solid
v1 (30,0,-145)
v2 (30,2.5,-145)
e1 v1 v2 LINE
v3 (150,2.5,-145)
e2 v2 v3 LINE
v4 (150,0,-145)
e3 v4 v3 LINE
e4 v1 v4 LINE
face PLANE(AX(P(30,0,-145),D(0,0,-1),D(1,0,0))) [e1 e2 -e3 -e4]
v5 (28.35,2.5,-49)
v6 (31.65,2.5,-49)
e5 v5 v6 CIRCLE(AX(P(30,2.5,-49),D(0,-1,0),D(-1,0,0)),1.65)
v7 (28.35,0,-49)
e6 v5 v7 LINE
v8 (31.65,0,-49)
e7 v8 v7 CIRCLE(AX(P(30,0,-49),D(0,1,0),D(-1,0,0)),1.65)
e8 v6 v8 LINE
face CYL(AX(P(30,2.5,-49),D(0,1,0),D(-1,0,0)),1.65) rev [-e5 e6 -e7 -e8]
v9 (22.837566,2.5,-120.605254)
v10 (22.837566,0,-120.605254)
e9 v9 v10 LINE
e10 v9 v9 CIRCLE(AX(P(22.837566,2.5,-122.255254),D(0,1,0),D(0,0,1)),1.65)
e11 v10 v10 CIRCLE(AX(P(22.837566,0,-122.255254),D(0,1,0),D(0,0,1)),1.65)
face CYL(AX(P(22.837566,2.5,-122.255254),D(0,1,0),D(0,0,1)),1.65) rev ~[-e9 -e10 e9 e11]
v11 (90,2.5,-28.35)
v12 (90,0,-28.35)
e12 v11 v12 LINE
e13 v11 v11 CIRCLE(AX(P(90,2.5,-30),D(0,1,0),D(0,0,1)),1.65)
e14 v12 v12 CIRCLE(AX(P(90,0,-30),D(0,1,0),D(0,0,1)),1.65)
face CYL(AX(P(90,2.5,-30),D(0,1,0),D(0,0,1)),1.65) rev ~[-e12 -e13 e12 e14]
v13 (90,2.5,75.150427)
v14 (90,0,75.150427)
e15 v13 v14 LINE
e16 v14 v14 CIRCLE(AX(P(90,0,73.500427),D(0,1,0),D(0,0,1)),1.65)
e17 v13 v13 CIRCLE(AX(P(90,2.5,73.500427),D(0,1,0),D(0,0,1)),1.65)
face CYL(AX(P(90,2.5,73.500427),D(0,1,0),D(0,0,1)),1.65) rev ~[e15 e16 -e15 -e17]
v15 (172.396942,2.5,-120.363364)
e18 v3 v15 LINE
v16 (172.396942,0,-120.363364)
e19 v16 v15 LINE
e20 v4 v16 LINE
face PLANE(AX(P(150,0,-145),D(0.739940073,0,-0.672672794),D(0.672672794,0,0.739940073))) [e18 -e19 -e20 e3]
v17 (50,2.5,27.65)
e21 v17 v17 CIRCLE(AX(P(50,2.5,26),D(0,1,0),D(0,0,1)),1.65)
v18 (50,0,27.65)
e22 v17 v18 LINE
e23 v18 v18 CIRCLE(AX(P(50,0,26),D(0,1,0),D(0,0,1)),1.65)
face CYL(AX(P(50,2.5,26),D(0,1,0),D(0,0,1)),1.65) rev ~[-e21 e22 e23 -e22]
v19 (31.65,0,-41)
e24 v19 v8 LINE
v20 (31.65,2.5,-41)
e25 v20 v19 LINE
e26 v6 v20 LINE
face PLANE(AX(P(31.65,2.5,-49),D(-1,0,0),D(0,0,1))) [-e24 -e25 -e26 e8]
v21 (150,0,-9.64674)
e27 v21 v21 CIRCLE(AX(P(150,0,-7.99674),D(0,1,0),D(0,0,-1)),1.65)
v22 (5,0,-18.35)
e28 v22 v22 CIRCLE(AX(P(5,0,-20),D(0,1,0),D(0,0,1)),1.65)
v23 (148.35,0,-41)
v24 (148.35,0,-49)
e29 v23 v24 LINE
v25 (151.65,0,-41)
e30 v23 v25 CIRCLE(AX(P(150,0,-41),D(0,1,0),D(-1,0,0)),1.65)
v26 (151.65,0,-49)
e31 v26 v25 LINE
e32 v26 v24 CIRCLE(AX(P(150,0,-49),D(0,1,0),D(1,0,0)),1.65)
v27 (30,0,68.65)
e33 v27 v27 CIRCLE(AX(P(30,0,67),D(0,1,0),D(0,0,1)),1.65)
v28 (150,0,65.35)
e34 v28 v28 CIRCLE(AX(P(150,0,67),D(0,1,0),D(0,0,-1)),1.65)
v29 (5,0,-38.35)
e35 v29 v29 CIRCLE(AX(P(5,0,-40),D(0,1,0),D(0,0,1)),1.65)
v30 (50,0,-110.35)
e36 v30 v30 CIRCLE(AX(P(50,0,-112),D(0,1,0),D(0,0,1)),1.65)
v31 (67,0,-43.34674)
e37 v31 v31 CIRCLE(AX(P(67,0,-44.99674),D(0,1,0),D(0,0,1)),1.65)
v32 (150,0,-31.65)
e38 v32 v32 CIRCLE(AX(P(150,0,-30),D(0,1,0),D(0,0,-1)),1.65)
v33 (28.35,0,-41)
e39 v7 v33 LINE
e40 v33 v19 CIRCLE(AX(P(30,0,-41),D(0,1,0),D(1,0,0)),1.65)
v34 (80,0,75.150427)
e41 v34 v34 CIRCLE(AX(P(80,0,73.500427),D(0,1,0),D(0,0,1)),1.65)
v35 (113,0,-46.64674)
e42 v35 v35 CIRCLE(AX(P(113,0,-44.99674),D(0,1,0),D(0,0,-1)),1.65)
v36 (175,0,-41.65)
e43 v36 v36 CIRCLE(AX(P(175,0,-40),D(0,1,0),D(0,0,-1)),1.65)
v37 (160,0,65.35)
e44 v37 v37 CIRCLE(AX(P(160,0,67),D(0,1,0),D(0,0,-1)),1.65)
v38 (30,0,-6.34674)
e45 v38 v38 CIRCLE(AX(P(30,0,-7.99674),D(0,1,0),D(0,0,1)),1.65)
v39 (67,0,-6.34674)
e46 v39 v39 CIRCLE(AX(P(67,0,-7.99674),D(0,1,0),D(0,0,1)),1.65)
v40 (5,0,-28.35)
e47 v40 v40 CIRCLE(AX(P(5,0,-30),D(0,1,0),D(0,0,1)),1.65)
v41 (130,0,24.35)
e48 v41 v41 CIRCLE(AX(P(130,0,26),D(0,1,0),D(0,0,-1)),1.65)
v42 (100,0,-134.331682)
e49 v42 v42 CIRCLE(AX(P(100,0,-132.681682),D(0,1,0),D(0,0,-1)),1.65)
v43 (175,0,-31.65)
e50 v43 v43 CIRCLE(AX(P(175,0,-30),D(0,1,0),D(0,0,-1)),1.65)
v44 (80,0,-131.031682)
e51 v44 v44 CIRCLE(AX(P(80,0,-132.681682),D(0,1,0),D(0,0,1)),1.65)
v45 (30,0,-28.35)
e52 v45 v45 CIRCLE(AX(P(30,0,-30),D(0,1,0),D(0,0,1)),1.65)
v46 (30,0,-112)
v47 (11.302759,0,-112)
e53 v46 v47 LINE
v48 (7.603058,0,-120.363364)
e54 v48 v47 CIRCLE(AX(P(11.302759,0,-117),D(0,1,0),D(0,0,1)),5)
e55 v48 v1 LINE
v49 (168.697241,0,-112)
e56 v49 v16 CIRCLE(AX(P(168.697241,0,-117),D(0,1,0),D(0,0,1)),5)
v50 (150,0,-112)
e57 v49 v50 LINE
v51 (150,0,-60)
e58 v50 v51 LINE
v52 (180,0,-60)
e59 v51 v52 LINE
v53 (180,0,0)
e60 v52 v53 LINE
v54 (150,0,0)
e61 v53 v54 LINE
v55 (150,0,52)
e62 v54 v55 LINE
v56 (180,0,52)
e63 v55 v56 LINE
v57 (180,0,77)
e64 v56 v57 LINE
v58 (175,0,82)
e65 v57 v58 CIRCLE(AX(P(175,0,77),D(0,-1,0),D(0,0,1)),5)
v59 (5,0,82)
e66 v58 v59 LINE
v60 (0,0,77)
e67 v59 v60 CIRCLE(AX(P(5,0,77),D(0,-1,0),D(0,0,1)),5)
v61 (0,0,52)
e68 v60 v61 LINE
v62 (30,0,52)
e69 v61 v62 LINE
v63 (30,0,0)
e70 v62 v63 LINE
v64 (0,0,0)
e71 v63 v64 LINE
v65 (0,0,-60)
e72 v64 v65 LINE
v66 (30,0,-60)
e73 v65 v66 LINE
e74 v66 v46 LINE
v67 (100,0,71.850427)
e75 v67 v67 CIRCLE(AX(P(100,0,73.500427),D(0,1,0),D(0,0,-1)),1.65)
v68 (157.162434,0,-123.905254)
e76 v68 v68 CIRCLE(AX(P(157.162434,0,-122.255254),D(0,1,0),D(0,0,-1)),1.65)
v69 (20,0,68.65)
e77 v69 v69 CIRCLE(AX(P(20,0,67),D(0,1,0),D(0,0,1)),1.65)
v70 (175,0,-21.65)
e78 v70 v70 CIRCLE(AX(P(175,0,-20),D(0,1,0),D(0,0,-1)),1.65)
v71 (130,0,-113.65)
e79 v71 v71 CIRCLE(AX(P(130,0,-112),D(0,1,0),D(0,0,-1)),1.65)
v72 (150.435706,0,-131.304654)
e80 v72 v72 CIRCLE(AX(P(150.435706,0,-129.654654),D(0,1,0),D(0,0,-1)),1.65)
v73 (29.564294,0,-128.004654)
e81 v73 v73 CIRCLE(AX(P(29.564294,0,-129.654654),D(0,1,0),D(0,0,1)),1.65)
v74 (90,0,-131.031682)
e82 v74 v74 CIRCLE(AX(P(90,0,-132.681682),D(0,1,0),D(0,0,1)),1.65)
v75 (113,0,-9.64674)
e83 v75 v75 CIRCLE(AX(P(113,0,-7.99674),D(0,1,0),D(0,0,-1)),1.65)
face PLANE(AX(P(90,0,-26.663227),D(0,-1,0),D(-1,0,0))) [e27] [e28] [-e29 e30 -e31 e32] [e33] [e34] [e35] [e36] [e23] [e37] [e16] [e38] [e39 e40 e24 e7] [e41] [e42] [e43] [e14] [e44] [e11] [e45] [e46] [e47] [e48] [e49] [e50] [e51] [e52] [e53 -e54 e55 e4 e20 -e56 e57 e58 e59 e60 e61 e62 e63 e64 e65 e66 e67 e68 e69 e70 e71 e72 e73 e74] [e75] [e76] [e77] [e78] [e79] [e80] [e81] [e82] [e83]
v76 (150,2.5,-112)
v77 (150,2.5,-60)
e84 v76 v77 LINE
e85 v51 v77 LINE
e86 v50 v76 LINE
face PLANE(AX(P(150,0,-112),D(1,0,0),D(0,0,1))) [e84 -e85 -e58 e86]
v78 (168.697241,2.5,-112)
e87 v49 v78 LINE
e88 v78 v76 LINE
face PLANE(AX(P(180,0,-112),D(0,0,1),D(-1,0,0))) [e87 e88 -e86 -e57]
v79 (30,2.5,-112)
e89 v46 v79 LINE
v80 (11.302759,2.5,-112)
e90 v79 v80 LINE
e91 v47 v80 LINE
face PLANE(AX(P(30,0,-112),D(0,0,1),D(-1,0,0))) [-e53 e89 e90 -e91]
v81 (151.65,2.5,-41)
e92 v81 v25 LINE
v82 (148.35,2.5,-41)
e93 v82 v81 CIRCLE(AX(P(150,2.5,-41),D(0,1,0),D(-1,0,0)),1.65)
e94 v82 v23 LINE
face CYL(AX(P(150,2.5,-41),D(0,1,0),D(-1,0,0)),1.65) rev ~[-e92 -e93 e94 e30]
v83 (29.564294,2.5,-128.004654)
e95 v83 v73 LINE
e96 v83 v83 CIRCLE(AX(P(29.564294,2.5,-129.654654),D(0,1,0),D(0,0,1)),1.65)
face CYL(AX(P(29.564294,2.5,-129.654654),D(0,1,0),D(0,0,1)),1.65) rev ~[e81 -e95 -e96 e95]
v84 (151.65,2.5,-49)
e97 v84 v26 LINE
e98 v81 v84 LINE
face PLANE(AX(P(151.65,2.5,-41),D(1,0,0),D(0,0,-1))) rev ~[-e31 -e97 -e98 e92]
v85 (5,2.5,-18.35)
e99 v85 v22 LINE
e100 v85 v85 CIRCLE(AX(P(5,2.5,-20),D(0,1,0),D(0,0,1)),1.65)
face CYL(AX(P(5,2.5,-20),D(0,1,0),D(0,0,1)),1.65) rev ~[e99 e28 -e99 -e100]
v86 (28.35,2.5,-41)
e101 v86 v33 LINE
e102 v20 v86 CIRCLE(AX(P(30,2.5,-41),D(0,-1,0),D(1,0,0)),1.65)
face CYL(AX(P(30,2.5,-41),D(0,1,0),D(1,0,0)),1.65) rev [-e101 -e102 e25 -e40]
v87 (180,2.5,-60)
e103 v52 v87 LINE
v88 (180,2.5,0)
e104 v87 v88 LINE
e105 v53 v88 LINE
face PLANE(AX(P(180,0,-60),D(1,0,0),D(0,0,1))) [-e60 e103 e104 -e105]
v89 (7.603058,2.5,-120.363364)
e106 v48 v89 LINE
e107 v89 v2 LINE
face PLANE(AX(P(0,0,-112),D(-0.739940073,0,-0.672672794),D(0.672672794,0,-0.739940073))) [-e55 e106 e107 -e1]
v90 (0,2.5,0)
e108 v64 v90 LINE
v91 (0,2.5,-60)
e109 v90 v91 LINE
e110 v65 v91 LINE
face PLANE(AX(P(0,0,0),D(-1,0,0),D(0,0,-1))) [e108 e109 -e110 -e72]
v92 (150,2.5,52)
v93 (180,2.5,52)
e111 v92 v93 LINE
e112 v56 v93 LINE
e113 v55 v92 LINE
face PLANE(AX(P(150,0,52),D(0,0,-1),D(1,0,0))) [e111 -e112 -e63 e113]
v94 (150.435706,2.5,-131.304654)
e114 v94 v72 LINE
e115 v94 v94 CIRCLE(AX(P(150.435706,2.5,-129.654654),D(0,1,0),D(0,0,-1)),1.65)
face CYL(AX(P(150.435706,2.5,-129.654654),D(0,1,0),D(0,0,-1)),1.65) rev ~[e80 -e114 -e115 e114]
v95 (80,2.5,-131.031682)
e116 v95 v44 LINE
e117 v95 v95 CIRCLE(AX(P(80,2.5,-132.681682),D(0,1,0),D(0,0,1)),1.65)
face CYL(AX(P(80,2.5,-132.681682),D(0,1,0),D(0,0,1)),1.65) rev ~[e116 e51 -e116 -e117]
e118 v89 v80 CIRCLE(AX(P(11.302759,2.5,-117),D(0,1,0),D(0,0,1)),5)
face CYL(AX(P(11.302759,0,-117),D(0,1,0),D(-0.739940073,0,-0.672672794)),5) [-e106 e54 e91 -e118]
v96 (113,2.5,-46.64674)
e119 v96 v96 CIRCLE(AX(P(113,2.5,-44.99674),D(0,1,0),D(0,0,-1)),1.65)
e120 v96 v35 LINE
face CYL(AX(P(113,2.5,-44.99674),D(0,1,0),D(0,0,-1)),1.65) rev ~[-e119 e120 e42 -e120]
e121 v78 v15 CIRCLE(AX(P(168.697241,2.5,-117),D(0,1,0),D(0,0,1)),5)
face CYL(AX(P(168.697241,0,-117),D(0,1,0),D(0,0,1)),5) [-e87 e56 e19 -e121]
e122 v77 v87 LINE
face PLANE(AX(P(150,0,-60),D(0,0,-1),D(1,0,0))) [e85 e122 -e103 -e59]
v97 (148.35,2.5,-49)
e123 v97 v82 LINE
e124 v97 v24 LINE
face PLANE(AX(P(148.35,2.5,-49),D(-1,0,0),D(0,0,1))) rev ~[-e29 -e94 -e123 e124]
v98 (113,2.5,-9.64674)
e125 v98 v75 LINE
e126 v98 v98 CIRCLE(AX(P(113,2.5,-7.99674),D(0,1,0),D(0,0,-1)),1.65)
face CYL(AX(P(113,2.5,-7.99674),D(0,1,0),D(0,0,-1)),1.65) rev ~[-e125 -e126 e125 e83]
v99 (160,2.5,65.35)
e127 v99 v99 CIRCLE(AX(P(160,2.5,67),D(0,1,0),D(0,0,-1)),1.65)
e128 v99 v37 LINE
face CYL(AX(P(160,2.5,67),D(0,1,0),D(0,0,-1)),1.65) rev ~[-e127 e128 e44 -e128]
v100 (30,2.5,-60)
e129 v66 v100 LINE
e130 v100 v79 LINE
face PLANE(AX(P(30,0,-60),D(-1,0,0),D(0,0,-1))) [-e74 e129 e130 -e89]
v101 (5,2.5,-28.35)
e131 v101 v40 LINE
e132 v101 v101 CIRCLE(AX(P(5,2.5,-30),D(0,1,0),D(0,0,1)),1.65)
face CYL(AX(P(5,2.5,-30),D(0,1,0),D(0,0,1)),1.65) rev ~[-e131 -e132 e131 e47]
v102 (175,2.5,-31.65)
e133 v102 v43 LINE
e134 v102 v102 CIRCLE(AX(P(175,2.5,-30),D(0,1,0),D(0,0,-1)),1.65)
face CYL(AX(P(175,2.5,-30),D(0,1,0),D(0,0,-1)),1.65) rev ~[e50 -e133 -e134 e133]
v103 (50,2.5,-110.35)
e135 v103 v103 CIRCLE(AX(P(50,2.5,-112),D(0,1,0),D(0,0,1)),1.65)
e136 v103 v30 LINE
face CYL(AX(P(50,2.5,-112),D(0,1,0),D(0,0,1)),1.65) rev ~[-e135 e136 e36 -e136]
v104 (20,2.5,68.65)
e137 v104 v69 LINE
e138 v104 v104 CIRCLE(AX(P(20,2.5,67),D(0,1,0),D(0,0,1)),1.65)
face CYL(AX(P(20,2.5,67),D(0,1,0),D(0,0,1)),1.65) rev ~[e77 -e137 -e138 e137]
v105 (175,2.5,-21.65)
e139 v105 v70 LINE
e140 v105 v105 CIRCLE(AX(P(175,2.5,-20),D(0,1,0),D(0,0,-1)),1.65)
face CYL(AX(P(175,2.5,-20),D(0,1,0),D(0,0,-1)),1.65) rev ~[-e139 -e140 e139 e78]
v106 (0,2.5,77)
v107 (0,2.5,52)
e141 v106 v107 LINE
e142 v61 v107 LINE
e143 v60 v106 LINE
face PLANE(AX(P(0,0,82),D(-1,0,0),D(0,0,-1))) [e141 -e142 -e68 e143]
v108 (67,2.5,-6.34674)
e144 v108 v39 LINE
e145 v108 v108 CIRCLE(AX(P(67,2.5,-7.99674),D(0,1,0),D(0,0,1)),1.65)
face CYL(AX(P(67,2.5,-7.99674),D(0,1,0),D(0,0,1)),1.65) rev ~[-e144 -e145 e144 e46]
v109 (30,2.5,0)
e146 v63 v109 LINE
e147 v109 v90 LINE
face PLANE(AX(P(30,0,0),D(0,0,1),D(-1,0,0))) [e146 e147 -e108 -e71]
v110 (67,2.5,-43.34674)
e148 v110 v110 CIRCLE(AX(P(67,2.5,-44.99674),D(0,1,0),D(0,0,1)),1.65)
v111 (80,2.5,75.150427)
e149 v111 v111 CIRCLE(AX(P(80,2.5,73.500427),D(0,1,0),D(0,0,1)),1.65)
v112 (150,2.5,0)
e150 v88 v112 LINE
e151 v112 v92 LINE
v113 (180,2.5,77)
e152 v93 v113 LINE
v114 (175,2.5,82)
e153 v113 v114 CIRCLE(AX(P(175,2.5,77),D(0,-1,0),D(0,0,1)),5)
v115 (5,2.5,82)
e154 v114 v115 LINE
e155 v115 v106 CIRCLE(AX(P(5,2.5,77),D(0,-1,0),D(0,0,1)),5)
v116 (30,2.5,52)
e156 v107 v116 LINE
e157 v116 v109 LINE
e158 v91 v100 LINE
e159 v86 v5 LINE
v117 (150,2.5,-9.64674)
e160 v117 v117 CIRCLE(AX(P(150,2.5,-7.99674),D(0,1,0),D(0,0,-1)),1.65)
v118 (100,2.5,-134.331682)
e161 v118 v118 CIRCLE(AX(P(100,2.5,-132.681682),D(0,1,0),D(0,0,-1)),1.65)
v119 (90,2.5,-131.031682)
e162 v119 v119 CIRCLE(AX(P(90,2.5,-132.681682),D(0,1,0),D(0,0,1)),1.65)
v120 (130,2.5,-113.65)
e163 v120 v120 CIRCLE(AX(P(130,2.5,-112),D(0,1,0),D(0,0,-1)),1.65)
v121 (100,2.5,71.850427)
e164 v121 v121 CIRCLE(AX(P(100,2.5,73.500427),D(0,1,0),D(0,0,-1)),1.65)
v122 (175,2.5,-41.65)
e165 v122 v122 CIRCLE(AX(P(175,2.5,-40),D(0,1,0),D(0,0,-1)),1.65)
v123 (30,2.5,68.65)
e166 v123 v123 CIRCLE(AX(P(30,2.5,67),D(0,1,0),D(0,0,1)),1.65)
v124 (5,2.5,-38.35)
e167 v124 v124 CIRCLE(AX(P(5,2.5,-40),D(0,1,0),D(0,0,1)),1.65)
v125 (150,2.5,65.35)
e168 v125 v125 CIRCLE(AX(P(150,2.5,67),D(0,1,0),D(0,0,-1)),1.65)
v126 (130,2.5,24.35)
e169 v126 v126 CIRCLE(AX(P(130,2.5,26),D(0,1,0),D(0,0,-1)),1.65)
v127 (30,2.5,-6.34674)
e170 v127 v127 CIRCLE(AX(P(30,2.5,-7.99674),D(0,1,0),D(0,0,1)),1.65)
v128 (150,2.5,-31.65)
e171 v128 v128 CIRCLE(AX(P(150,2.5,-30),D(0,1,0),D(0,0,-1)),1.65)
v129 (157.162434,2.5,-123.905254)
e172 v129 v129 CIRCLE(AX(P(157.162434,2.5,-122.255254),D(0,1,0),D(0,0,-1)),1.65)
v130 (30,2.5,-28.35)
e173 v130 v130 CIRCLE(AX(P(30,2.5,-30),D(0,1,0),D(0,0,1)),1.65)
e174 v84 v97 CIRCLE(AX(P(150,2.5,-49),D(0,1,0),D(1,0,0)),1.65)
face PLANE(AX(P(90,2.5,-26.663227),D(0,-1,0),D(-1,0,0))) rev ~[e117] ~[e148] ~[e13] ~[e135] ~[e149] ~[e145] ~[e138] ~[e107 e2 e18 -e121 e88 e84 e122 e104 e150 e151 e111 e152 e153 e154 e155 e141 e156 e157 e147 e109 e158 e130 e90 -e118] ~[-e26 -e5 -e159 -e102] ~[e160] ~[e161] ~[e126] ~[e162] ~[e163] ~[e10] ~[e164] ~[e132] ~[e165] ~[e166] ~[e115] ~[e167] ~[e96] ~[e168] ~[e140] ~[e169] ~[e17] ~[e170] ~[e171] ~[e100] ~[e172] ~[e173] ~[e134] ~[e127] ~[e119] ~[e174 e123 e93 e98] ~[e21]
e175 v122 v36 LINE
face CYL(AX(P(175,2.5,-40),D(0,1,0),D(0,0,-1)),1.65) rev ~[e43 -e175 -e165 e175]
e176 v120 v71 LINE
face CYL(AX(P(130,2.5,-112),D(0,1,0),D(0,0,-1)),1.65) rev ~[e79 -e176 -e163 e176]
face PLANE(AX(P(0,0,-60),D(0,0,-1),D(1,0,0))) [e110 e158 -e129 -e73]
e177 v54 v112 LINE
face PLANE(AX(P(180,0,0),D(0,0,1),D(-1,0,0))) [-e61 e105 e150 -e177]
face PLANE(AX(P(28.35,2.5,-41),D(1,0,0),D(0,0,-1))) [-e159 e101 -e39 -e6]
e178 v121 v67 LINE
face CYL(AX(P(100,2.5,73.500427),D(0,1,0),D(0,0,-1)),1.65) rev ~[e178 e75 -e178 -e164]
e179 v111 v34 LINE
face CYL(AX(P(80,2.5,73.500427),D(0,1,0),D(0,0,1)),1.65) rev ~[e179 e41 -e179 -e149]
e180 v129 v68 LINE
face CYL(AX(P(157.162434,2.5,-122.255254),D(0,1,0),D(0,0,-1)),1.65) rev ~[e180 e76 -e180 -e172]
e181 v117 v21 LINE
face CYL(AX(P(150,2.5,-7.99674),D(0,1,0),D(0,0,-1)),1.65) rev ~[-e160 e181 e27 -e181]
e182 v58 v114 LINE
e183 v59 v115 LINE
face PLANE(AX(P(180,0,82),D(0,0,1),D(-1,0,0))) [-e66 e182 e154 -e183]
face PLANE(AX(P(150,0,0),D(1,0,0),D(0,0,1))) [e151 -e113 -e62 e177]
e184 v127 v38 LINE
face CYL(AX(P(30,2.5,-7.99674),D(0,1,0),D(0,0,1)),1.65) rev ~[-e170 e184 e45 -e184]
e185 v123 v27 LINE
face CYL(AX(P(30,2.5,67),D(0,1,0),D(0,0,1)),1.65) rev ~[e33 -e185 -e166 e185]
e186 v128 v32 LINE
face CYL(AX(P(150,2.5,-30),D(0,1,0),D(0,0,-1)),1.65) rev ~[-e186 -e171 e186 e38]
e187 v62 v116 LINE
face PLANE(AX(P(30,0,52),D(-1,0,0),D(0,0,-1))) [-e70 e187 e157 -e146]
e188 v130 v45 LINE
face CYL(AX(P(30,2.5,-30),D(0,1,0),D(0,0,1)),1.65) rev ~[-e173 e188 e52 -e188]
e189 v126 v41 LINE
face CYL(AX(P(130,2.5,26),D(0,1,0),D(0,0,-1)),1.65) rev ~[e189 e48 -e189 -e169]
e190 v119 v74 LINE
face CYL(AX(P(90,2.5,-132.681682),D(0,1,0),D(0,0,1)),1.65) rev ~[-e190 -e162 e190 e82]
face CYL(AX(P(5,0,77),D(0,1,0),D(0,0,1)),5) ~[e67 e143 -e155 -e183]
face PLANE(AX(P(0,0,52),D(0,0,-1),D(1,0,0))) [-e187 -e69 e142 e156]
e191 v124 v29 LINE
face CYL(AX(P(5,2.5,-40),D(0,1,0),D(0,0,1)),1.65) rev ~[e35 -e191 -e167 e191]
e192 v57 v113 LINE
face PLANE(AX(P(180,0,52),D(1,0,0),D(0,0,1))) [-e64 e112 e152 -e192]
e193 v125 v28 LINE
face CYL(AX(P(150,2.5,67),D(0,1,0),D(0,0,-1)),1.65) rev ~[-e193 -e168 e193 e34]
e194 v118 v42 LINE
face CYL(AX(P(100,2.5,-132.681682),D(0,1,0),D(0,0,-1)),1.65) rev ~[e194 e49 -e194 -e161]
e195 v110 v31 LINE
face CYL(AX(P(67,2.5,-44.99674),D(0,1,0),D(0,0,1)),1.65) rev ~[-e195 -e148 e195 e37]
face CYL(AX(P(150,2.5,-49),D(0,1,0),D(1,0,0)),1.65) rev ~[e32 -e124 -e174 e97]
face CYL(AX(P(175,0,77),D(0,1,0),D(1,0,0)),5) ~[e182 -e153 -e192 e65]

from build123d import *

# Parameters (mm, degrees)
BOSS_EXTRUDE1_DEPTH = 2.5
FILLET1_R           = 5
FILLET2_R           = 5
SKETCH2_R           = 1.65
CUT_EXTRUDE1_DEPTH  = 232.152006264
SKETCH3_R           = 1.65
CUT_EXTRUDE2_DEPTH  = 10
SKETCH4_R           = 1.65
CUT_EXTRUDE3_DEPTH  = 10
SKETCH5_R           = 1.65
CUT_EXTRUDE4_DEPTH  = 10
SKETCH6_R           = 1.65
CUT_EXTRUDE5_DEPTH  = 10
SKETCH8_R           = 1.65
CUT_EXTRUDE6_DEPTH  = 10
SKETCH9_R           = 1.65
CUT_EXTRUDE7_DEPTH  = 10


with BuildPart() as part:
    # Sketch1 → Boss-Extrude1 (new body)
    with BuildSketch(Plane(origin=(0, 0, 0), x_dir=(1, 0, 0), z_dir=(0, 1, 0))):
        Polygon((0, 0), (0, 60), (30, 60), (30, 112), (0, 112), (30, 145), (150, 145), (180, 112), (150, 112), (150, 60), (180, 60), (180, 0), (150, 0), (150, -52), (180, -52), (180, -82), (0, -82), (0, -52), (30, -52), (30, 0), align=None)
    extrude(amount=BOSS_EXTRUDE1_DEPTH)

    # Fillet1
    fillet1_edges = [part.edges().sort_by_distance(p)[0] for p in [
        (180, 1.25, 82),
        (0, 1.25, 82),
    ]]
    fillet(fillet1_edges, radius=FILLET1_R)

    # Fillet2
    fillet2_edges = [part.edges().sort_by_distance(p)[0] for p in [
        (0, 1.25, -112),
        (180, 1.25, -112),
    ]]
    fillet(fillet2_edges, radius=FILLET2_R)

    # Sketch2 → Cut-Extrude1 (cut, through all)
    with BuildSketch(Plane(origin=(0, 2.5, 0), x_dir=(1, 0, 0), z_dir=(0, 1, 0))):
        with Locations(Location((30, 30, 0), (0, 0, 270))):
            Circle(SKETCH2_R)
        with Locations(Location((30, -67, 0), (0, 0, 270))):
            Circle(SKETCH2_R)
        with Locations(Location((50, 112, 0), (0, 0, 270))):
            Circle(SKETCH2_R)
        with Locations(Location((50, -26, 0), (0, 0, 270))):
            Circle(SKETCH2_R)
        with Locations(Location((150, -67, 0), (0, 0, 90))):
            Circle(SKETCH2_R)
        with Locations(Location((130, -26, 0), (0, 0, 90))):
            Circle(SKETCH2_R)
        with Locations(Location((150, 30, 0), (0, 0, 90))):
            Circle(SKETCH2_R)
        with Locations(Location((130, 112, 0), (0, 0, 90))):
            Circle(SKETCH2_R)
        with Locations(Location((20, -67, 0), (0, 0, 270))):
            Circle(SKETCH2_R)
        with Locations(Location((160, -67, 0), (0, 0, 90))):
            Circle(SKETCH2_R)
        with BuildLine():
            Line((28.35, 41), (28.35, 49))
            ThreePointArc((28.35, 49), (30, 50.65), (31.65, 49))
            Line((31.65, 49), (31.65, 41))
            ThreePointArc((31.65, 41), (30, 39.35), (28.35, 41))
        make_face()
        with BuildLine():
            Line((151.65, 41), (151.65, 49))
            ThreePointArc((151.65, 49), (150, 50.65), (148.35, 49))
            Line((148.35, 49), (148.35, 41))
            ThreePointArc((148.35, 41), (150, 39.35), (151.65, 41))
        make_face()
    extrude(amount=-CUT_EXTRUDE1_DEPTH, mode=Mode.SUBTRACT)

    # Sketch3 → Cut-Extrude2 (cut)
    with BuildSketch(Plane(origin=(0, 2.5, 0), x_dir=(1, 0, 0), z_dir=(0, 1, 0))):
        with Locations(Location((90, 132.681681985, 0), (0, 0, 270))):
            Circle(SKETCH3_R)
        with Locations(Location((80, 132.681681985, 0), (0, 0, 270))):
            Circle(SKETCH3_R)
        with Locations(Location((100, 132.681681985, 0), (0, 0, 90))):
            Circle(SKETCH3_R)
    extrude(amount=-CUT_EXTRUDE2_DEPTH, mode=Mode.SUBTRACT)

    # Sketch4 → Cut-Extrude3 (cut)
    with BuildSketch(Plane(origin=(0, 2.5, 0), x_dir=(1, 0, 0), z_dir=(0, 1, 0))):
        with Locations(Location((90, -73.500427327, 0), (0, 0, 270))):
            Circle(SKETCH4_R)
        with Locations(Location((80, -73.500427327, 0), (0, 0, 270))):
            Circle(SKETCH4_R)
        with Locations(Location((100, -73.500427327, 0), (0, 0, 90))):
            Circle(SKETCH4_R)
    extrude(amount=-CUT_EXTRUDE3_DEPTH, mode=Mode.SUBTRACT)

    # Sketch5 → Cut-Extrude4 (cut)
    with BuildSketch(Plane(origin=(0, 2.5, 0), x_dir=(1, 0, 0), z_dir=(0, 1, 0))):
        with Locations(Location((5, 30, 0), (0, 0, 270))):
            Circle(SKETCH5_R)
        with Locations(Location((5, 40, 0), (0, 0, 270))):
            Circle(SKETCH5_R)
        with Locations(Location((5, 20, 0), (0, 0, 270))):
            Circle(SKETCH5_R)
        with Locations(Location((175, 20, 0), (0, 0, 90))):
            Circle(SKETCH5_R)
        with Locations(Location((175, 30, 0), (0, 0, 90))):
            Circle(SKETCH5_R)
        with Locations(Location((175, 40, 0), (0, 0, 90))):
            Circle(SKETCH5_R)
    extrude(amount=-CUT_EXTRUDE4_DEPTH, mode=Mode.SUBTRACT)

    # Sketch6 → Cut-Extrude5 (cut)
    with BuildSketch(Plane(origin=(0, 2.5, 0), x_dir=(1, 0, 0), z_dir=(0, 1, 0))):
        with Locations(Location((90, 30, 0), (0, 0, 270))):
            Circle(SKETCH6_R)
    extrude(amount=-CUT_EXTRUDE5_DEPTH, mode=Mode.SUBTRACT)

    # Sketch8 → Cut-Extrude6 (cut)
    with BuildSketch(Plane(origin=(0, 2.5, 0), x_dir=(1, 0, 0), z_dir=(0, 1, 0))):
        with Locations(Location((29.564293781, 129.654654412, 0), (0, 0, 270))):
            Circle(SKETCH8_R)
        with Locations(Location((22.837565841, 122.255253678, 0), (0, 0, 270))):
            Circle(SKETCH8_R)
        with Locations(Location((157.162434159, 122.255253678, 0), (0, 0, 90))):
            Circle(SKETCH8_R)
        with Locations(Location((150.435706219, 129.654654412, 0), (0, 0, 90))):
            Circle(SKETCH8_R)
    extrude(amount=-CUT_EXTRUDE6_DEPTH, mode=Mode.SUBTRACT)

    # Sketch9 → Cut-Extrude7 (cut)
    with BuildSketch(Plane(origin=(0, 2.5, 0), x_dir=(1, 0, 0), z_dir=(0, 1, 0))):
        with Locations(Location((30, 7.996739715, 0), (0, 0, 270))):
            Circle(SKETCH9_R)
        with Locations(Location((67, 44.996739715, 0), (0, 0, 270))):
            Circle(SKETCH9_R)
        with Locations(Location((67, 7.996739715, 0), (0, 0, 270))):
            Circle(SKETCH9_R)
        with Locations(Location((150, 7.996739715, 0), (0, 0, 90))):
            Circle(SKETCH9_R)
        with Locations(Location((113, 7.996739715, 0), (0, 0, 90))):
            Circle(SKETCH9_R)
        with Locations(Location((113, 44.996739715, 0), (0, 0, 90))):
            Circle(SKETCH9_R)
    extrude(amount=-CUT_EXTRUDE7_DEPTH, mode=Mode.SUBTRACT)


solid = part.part
